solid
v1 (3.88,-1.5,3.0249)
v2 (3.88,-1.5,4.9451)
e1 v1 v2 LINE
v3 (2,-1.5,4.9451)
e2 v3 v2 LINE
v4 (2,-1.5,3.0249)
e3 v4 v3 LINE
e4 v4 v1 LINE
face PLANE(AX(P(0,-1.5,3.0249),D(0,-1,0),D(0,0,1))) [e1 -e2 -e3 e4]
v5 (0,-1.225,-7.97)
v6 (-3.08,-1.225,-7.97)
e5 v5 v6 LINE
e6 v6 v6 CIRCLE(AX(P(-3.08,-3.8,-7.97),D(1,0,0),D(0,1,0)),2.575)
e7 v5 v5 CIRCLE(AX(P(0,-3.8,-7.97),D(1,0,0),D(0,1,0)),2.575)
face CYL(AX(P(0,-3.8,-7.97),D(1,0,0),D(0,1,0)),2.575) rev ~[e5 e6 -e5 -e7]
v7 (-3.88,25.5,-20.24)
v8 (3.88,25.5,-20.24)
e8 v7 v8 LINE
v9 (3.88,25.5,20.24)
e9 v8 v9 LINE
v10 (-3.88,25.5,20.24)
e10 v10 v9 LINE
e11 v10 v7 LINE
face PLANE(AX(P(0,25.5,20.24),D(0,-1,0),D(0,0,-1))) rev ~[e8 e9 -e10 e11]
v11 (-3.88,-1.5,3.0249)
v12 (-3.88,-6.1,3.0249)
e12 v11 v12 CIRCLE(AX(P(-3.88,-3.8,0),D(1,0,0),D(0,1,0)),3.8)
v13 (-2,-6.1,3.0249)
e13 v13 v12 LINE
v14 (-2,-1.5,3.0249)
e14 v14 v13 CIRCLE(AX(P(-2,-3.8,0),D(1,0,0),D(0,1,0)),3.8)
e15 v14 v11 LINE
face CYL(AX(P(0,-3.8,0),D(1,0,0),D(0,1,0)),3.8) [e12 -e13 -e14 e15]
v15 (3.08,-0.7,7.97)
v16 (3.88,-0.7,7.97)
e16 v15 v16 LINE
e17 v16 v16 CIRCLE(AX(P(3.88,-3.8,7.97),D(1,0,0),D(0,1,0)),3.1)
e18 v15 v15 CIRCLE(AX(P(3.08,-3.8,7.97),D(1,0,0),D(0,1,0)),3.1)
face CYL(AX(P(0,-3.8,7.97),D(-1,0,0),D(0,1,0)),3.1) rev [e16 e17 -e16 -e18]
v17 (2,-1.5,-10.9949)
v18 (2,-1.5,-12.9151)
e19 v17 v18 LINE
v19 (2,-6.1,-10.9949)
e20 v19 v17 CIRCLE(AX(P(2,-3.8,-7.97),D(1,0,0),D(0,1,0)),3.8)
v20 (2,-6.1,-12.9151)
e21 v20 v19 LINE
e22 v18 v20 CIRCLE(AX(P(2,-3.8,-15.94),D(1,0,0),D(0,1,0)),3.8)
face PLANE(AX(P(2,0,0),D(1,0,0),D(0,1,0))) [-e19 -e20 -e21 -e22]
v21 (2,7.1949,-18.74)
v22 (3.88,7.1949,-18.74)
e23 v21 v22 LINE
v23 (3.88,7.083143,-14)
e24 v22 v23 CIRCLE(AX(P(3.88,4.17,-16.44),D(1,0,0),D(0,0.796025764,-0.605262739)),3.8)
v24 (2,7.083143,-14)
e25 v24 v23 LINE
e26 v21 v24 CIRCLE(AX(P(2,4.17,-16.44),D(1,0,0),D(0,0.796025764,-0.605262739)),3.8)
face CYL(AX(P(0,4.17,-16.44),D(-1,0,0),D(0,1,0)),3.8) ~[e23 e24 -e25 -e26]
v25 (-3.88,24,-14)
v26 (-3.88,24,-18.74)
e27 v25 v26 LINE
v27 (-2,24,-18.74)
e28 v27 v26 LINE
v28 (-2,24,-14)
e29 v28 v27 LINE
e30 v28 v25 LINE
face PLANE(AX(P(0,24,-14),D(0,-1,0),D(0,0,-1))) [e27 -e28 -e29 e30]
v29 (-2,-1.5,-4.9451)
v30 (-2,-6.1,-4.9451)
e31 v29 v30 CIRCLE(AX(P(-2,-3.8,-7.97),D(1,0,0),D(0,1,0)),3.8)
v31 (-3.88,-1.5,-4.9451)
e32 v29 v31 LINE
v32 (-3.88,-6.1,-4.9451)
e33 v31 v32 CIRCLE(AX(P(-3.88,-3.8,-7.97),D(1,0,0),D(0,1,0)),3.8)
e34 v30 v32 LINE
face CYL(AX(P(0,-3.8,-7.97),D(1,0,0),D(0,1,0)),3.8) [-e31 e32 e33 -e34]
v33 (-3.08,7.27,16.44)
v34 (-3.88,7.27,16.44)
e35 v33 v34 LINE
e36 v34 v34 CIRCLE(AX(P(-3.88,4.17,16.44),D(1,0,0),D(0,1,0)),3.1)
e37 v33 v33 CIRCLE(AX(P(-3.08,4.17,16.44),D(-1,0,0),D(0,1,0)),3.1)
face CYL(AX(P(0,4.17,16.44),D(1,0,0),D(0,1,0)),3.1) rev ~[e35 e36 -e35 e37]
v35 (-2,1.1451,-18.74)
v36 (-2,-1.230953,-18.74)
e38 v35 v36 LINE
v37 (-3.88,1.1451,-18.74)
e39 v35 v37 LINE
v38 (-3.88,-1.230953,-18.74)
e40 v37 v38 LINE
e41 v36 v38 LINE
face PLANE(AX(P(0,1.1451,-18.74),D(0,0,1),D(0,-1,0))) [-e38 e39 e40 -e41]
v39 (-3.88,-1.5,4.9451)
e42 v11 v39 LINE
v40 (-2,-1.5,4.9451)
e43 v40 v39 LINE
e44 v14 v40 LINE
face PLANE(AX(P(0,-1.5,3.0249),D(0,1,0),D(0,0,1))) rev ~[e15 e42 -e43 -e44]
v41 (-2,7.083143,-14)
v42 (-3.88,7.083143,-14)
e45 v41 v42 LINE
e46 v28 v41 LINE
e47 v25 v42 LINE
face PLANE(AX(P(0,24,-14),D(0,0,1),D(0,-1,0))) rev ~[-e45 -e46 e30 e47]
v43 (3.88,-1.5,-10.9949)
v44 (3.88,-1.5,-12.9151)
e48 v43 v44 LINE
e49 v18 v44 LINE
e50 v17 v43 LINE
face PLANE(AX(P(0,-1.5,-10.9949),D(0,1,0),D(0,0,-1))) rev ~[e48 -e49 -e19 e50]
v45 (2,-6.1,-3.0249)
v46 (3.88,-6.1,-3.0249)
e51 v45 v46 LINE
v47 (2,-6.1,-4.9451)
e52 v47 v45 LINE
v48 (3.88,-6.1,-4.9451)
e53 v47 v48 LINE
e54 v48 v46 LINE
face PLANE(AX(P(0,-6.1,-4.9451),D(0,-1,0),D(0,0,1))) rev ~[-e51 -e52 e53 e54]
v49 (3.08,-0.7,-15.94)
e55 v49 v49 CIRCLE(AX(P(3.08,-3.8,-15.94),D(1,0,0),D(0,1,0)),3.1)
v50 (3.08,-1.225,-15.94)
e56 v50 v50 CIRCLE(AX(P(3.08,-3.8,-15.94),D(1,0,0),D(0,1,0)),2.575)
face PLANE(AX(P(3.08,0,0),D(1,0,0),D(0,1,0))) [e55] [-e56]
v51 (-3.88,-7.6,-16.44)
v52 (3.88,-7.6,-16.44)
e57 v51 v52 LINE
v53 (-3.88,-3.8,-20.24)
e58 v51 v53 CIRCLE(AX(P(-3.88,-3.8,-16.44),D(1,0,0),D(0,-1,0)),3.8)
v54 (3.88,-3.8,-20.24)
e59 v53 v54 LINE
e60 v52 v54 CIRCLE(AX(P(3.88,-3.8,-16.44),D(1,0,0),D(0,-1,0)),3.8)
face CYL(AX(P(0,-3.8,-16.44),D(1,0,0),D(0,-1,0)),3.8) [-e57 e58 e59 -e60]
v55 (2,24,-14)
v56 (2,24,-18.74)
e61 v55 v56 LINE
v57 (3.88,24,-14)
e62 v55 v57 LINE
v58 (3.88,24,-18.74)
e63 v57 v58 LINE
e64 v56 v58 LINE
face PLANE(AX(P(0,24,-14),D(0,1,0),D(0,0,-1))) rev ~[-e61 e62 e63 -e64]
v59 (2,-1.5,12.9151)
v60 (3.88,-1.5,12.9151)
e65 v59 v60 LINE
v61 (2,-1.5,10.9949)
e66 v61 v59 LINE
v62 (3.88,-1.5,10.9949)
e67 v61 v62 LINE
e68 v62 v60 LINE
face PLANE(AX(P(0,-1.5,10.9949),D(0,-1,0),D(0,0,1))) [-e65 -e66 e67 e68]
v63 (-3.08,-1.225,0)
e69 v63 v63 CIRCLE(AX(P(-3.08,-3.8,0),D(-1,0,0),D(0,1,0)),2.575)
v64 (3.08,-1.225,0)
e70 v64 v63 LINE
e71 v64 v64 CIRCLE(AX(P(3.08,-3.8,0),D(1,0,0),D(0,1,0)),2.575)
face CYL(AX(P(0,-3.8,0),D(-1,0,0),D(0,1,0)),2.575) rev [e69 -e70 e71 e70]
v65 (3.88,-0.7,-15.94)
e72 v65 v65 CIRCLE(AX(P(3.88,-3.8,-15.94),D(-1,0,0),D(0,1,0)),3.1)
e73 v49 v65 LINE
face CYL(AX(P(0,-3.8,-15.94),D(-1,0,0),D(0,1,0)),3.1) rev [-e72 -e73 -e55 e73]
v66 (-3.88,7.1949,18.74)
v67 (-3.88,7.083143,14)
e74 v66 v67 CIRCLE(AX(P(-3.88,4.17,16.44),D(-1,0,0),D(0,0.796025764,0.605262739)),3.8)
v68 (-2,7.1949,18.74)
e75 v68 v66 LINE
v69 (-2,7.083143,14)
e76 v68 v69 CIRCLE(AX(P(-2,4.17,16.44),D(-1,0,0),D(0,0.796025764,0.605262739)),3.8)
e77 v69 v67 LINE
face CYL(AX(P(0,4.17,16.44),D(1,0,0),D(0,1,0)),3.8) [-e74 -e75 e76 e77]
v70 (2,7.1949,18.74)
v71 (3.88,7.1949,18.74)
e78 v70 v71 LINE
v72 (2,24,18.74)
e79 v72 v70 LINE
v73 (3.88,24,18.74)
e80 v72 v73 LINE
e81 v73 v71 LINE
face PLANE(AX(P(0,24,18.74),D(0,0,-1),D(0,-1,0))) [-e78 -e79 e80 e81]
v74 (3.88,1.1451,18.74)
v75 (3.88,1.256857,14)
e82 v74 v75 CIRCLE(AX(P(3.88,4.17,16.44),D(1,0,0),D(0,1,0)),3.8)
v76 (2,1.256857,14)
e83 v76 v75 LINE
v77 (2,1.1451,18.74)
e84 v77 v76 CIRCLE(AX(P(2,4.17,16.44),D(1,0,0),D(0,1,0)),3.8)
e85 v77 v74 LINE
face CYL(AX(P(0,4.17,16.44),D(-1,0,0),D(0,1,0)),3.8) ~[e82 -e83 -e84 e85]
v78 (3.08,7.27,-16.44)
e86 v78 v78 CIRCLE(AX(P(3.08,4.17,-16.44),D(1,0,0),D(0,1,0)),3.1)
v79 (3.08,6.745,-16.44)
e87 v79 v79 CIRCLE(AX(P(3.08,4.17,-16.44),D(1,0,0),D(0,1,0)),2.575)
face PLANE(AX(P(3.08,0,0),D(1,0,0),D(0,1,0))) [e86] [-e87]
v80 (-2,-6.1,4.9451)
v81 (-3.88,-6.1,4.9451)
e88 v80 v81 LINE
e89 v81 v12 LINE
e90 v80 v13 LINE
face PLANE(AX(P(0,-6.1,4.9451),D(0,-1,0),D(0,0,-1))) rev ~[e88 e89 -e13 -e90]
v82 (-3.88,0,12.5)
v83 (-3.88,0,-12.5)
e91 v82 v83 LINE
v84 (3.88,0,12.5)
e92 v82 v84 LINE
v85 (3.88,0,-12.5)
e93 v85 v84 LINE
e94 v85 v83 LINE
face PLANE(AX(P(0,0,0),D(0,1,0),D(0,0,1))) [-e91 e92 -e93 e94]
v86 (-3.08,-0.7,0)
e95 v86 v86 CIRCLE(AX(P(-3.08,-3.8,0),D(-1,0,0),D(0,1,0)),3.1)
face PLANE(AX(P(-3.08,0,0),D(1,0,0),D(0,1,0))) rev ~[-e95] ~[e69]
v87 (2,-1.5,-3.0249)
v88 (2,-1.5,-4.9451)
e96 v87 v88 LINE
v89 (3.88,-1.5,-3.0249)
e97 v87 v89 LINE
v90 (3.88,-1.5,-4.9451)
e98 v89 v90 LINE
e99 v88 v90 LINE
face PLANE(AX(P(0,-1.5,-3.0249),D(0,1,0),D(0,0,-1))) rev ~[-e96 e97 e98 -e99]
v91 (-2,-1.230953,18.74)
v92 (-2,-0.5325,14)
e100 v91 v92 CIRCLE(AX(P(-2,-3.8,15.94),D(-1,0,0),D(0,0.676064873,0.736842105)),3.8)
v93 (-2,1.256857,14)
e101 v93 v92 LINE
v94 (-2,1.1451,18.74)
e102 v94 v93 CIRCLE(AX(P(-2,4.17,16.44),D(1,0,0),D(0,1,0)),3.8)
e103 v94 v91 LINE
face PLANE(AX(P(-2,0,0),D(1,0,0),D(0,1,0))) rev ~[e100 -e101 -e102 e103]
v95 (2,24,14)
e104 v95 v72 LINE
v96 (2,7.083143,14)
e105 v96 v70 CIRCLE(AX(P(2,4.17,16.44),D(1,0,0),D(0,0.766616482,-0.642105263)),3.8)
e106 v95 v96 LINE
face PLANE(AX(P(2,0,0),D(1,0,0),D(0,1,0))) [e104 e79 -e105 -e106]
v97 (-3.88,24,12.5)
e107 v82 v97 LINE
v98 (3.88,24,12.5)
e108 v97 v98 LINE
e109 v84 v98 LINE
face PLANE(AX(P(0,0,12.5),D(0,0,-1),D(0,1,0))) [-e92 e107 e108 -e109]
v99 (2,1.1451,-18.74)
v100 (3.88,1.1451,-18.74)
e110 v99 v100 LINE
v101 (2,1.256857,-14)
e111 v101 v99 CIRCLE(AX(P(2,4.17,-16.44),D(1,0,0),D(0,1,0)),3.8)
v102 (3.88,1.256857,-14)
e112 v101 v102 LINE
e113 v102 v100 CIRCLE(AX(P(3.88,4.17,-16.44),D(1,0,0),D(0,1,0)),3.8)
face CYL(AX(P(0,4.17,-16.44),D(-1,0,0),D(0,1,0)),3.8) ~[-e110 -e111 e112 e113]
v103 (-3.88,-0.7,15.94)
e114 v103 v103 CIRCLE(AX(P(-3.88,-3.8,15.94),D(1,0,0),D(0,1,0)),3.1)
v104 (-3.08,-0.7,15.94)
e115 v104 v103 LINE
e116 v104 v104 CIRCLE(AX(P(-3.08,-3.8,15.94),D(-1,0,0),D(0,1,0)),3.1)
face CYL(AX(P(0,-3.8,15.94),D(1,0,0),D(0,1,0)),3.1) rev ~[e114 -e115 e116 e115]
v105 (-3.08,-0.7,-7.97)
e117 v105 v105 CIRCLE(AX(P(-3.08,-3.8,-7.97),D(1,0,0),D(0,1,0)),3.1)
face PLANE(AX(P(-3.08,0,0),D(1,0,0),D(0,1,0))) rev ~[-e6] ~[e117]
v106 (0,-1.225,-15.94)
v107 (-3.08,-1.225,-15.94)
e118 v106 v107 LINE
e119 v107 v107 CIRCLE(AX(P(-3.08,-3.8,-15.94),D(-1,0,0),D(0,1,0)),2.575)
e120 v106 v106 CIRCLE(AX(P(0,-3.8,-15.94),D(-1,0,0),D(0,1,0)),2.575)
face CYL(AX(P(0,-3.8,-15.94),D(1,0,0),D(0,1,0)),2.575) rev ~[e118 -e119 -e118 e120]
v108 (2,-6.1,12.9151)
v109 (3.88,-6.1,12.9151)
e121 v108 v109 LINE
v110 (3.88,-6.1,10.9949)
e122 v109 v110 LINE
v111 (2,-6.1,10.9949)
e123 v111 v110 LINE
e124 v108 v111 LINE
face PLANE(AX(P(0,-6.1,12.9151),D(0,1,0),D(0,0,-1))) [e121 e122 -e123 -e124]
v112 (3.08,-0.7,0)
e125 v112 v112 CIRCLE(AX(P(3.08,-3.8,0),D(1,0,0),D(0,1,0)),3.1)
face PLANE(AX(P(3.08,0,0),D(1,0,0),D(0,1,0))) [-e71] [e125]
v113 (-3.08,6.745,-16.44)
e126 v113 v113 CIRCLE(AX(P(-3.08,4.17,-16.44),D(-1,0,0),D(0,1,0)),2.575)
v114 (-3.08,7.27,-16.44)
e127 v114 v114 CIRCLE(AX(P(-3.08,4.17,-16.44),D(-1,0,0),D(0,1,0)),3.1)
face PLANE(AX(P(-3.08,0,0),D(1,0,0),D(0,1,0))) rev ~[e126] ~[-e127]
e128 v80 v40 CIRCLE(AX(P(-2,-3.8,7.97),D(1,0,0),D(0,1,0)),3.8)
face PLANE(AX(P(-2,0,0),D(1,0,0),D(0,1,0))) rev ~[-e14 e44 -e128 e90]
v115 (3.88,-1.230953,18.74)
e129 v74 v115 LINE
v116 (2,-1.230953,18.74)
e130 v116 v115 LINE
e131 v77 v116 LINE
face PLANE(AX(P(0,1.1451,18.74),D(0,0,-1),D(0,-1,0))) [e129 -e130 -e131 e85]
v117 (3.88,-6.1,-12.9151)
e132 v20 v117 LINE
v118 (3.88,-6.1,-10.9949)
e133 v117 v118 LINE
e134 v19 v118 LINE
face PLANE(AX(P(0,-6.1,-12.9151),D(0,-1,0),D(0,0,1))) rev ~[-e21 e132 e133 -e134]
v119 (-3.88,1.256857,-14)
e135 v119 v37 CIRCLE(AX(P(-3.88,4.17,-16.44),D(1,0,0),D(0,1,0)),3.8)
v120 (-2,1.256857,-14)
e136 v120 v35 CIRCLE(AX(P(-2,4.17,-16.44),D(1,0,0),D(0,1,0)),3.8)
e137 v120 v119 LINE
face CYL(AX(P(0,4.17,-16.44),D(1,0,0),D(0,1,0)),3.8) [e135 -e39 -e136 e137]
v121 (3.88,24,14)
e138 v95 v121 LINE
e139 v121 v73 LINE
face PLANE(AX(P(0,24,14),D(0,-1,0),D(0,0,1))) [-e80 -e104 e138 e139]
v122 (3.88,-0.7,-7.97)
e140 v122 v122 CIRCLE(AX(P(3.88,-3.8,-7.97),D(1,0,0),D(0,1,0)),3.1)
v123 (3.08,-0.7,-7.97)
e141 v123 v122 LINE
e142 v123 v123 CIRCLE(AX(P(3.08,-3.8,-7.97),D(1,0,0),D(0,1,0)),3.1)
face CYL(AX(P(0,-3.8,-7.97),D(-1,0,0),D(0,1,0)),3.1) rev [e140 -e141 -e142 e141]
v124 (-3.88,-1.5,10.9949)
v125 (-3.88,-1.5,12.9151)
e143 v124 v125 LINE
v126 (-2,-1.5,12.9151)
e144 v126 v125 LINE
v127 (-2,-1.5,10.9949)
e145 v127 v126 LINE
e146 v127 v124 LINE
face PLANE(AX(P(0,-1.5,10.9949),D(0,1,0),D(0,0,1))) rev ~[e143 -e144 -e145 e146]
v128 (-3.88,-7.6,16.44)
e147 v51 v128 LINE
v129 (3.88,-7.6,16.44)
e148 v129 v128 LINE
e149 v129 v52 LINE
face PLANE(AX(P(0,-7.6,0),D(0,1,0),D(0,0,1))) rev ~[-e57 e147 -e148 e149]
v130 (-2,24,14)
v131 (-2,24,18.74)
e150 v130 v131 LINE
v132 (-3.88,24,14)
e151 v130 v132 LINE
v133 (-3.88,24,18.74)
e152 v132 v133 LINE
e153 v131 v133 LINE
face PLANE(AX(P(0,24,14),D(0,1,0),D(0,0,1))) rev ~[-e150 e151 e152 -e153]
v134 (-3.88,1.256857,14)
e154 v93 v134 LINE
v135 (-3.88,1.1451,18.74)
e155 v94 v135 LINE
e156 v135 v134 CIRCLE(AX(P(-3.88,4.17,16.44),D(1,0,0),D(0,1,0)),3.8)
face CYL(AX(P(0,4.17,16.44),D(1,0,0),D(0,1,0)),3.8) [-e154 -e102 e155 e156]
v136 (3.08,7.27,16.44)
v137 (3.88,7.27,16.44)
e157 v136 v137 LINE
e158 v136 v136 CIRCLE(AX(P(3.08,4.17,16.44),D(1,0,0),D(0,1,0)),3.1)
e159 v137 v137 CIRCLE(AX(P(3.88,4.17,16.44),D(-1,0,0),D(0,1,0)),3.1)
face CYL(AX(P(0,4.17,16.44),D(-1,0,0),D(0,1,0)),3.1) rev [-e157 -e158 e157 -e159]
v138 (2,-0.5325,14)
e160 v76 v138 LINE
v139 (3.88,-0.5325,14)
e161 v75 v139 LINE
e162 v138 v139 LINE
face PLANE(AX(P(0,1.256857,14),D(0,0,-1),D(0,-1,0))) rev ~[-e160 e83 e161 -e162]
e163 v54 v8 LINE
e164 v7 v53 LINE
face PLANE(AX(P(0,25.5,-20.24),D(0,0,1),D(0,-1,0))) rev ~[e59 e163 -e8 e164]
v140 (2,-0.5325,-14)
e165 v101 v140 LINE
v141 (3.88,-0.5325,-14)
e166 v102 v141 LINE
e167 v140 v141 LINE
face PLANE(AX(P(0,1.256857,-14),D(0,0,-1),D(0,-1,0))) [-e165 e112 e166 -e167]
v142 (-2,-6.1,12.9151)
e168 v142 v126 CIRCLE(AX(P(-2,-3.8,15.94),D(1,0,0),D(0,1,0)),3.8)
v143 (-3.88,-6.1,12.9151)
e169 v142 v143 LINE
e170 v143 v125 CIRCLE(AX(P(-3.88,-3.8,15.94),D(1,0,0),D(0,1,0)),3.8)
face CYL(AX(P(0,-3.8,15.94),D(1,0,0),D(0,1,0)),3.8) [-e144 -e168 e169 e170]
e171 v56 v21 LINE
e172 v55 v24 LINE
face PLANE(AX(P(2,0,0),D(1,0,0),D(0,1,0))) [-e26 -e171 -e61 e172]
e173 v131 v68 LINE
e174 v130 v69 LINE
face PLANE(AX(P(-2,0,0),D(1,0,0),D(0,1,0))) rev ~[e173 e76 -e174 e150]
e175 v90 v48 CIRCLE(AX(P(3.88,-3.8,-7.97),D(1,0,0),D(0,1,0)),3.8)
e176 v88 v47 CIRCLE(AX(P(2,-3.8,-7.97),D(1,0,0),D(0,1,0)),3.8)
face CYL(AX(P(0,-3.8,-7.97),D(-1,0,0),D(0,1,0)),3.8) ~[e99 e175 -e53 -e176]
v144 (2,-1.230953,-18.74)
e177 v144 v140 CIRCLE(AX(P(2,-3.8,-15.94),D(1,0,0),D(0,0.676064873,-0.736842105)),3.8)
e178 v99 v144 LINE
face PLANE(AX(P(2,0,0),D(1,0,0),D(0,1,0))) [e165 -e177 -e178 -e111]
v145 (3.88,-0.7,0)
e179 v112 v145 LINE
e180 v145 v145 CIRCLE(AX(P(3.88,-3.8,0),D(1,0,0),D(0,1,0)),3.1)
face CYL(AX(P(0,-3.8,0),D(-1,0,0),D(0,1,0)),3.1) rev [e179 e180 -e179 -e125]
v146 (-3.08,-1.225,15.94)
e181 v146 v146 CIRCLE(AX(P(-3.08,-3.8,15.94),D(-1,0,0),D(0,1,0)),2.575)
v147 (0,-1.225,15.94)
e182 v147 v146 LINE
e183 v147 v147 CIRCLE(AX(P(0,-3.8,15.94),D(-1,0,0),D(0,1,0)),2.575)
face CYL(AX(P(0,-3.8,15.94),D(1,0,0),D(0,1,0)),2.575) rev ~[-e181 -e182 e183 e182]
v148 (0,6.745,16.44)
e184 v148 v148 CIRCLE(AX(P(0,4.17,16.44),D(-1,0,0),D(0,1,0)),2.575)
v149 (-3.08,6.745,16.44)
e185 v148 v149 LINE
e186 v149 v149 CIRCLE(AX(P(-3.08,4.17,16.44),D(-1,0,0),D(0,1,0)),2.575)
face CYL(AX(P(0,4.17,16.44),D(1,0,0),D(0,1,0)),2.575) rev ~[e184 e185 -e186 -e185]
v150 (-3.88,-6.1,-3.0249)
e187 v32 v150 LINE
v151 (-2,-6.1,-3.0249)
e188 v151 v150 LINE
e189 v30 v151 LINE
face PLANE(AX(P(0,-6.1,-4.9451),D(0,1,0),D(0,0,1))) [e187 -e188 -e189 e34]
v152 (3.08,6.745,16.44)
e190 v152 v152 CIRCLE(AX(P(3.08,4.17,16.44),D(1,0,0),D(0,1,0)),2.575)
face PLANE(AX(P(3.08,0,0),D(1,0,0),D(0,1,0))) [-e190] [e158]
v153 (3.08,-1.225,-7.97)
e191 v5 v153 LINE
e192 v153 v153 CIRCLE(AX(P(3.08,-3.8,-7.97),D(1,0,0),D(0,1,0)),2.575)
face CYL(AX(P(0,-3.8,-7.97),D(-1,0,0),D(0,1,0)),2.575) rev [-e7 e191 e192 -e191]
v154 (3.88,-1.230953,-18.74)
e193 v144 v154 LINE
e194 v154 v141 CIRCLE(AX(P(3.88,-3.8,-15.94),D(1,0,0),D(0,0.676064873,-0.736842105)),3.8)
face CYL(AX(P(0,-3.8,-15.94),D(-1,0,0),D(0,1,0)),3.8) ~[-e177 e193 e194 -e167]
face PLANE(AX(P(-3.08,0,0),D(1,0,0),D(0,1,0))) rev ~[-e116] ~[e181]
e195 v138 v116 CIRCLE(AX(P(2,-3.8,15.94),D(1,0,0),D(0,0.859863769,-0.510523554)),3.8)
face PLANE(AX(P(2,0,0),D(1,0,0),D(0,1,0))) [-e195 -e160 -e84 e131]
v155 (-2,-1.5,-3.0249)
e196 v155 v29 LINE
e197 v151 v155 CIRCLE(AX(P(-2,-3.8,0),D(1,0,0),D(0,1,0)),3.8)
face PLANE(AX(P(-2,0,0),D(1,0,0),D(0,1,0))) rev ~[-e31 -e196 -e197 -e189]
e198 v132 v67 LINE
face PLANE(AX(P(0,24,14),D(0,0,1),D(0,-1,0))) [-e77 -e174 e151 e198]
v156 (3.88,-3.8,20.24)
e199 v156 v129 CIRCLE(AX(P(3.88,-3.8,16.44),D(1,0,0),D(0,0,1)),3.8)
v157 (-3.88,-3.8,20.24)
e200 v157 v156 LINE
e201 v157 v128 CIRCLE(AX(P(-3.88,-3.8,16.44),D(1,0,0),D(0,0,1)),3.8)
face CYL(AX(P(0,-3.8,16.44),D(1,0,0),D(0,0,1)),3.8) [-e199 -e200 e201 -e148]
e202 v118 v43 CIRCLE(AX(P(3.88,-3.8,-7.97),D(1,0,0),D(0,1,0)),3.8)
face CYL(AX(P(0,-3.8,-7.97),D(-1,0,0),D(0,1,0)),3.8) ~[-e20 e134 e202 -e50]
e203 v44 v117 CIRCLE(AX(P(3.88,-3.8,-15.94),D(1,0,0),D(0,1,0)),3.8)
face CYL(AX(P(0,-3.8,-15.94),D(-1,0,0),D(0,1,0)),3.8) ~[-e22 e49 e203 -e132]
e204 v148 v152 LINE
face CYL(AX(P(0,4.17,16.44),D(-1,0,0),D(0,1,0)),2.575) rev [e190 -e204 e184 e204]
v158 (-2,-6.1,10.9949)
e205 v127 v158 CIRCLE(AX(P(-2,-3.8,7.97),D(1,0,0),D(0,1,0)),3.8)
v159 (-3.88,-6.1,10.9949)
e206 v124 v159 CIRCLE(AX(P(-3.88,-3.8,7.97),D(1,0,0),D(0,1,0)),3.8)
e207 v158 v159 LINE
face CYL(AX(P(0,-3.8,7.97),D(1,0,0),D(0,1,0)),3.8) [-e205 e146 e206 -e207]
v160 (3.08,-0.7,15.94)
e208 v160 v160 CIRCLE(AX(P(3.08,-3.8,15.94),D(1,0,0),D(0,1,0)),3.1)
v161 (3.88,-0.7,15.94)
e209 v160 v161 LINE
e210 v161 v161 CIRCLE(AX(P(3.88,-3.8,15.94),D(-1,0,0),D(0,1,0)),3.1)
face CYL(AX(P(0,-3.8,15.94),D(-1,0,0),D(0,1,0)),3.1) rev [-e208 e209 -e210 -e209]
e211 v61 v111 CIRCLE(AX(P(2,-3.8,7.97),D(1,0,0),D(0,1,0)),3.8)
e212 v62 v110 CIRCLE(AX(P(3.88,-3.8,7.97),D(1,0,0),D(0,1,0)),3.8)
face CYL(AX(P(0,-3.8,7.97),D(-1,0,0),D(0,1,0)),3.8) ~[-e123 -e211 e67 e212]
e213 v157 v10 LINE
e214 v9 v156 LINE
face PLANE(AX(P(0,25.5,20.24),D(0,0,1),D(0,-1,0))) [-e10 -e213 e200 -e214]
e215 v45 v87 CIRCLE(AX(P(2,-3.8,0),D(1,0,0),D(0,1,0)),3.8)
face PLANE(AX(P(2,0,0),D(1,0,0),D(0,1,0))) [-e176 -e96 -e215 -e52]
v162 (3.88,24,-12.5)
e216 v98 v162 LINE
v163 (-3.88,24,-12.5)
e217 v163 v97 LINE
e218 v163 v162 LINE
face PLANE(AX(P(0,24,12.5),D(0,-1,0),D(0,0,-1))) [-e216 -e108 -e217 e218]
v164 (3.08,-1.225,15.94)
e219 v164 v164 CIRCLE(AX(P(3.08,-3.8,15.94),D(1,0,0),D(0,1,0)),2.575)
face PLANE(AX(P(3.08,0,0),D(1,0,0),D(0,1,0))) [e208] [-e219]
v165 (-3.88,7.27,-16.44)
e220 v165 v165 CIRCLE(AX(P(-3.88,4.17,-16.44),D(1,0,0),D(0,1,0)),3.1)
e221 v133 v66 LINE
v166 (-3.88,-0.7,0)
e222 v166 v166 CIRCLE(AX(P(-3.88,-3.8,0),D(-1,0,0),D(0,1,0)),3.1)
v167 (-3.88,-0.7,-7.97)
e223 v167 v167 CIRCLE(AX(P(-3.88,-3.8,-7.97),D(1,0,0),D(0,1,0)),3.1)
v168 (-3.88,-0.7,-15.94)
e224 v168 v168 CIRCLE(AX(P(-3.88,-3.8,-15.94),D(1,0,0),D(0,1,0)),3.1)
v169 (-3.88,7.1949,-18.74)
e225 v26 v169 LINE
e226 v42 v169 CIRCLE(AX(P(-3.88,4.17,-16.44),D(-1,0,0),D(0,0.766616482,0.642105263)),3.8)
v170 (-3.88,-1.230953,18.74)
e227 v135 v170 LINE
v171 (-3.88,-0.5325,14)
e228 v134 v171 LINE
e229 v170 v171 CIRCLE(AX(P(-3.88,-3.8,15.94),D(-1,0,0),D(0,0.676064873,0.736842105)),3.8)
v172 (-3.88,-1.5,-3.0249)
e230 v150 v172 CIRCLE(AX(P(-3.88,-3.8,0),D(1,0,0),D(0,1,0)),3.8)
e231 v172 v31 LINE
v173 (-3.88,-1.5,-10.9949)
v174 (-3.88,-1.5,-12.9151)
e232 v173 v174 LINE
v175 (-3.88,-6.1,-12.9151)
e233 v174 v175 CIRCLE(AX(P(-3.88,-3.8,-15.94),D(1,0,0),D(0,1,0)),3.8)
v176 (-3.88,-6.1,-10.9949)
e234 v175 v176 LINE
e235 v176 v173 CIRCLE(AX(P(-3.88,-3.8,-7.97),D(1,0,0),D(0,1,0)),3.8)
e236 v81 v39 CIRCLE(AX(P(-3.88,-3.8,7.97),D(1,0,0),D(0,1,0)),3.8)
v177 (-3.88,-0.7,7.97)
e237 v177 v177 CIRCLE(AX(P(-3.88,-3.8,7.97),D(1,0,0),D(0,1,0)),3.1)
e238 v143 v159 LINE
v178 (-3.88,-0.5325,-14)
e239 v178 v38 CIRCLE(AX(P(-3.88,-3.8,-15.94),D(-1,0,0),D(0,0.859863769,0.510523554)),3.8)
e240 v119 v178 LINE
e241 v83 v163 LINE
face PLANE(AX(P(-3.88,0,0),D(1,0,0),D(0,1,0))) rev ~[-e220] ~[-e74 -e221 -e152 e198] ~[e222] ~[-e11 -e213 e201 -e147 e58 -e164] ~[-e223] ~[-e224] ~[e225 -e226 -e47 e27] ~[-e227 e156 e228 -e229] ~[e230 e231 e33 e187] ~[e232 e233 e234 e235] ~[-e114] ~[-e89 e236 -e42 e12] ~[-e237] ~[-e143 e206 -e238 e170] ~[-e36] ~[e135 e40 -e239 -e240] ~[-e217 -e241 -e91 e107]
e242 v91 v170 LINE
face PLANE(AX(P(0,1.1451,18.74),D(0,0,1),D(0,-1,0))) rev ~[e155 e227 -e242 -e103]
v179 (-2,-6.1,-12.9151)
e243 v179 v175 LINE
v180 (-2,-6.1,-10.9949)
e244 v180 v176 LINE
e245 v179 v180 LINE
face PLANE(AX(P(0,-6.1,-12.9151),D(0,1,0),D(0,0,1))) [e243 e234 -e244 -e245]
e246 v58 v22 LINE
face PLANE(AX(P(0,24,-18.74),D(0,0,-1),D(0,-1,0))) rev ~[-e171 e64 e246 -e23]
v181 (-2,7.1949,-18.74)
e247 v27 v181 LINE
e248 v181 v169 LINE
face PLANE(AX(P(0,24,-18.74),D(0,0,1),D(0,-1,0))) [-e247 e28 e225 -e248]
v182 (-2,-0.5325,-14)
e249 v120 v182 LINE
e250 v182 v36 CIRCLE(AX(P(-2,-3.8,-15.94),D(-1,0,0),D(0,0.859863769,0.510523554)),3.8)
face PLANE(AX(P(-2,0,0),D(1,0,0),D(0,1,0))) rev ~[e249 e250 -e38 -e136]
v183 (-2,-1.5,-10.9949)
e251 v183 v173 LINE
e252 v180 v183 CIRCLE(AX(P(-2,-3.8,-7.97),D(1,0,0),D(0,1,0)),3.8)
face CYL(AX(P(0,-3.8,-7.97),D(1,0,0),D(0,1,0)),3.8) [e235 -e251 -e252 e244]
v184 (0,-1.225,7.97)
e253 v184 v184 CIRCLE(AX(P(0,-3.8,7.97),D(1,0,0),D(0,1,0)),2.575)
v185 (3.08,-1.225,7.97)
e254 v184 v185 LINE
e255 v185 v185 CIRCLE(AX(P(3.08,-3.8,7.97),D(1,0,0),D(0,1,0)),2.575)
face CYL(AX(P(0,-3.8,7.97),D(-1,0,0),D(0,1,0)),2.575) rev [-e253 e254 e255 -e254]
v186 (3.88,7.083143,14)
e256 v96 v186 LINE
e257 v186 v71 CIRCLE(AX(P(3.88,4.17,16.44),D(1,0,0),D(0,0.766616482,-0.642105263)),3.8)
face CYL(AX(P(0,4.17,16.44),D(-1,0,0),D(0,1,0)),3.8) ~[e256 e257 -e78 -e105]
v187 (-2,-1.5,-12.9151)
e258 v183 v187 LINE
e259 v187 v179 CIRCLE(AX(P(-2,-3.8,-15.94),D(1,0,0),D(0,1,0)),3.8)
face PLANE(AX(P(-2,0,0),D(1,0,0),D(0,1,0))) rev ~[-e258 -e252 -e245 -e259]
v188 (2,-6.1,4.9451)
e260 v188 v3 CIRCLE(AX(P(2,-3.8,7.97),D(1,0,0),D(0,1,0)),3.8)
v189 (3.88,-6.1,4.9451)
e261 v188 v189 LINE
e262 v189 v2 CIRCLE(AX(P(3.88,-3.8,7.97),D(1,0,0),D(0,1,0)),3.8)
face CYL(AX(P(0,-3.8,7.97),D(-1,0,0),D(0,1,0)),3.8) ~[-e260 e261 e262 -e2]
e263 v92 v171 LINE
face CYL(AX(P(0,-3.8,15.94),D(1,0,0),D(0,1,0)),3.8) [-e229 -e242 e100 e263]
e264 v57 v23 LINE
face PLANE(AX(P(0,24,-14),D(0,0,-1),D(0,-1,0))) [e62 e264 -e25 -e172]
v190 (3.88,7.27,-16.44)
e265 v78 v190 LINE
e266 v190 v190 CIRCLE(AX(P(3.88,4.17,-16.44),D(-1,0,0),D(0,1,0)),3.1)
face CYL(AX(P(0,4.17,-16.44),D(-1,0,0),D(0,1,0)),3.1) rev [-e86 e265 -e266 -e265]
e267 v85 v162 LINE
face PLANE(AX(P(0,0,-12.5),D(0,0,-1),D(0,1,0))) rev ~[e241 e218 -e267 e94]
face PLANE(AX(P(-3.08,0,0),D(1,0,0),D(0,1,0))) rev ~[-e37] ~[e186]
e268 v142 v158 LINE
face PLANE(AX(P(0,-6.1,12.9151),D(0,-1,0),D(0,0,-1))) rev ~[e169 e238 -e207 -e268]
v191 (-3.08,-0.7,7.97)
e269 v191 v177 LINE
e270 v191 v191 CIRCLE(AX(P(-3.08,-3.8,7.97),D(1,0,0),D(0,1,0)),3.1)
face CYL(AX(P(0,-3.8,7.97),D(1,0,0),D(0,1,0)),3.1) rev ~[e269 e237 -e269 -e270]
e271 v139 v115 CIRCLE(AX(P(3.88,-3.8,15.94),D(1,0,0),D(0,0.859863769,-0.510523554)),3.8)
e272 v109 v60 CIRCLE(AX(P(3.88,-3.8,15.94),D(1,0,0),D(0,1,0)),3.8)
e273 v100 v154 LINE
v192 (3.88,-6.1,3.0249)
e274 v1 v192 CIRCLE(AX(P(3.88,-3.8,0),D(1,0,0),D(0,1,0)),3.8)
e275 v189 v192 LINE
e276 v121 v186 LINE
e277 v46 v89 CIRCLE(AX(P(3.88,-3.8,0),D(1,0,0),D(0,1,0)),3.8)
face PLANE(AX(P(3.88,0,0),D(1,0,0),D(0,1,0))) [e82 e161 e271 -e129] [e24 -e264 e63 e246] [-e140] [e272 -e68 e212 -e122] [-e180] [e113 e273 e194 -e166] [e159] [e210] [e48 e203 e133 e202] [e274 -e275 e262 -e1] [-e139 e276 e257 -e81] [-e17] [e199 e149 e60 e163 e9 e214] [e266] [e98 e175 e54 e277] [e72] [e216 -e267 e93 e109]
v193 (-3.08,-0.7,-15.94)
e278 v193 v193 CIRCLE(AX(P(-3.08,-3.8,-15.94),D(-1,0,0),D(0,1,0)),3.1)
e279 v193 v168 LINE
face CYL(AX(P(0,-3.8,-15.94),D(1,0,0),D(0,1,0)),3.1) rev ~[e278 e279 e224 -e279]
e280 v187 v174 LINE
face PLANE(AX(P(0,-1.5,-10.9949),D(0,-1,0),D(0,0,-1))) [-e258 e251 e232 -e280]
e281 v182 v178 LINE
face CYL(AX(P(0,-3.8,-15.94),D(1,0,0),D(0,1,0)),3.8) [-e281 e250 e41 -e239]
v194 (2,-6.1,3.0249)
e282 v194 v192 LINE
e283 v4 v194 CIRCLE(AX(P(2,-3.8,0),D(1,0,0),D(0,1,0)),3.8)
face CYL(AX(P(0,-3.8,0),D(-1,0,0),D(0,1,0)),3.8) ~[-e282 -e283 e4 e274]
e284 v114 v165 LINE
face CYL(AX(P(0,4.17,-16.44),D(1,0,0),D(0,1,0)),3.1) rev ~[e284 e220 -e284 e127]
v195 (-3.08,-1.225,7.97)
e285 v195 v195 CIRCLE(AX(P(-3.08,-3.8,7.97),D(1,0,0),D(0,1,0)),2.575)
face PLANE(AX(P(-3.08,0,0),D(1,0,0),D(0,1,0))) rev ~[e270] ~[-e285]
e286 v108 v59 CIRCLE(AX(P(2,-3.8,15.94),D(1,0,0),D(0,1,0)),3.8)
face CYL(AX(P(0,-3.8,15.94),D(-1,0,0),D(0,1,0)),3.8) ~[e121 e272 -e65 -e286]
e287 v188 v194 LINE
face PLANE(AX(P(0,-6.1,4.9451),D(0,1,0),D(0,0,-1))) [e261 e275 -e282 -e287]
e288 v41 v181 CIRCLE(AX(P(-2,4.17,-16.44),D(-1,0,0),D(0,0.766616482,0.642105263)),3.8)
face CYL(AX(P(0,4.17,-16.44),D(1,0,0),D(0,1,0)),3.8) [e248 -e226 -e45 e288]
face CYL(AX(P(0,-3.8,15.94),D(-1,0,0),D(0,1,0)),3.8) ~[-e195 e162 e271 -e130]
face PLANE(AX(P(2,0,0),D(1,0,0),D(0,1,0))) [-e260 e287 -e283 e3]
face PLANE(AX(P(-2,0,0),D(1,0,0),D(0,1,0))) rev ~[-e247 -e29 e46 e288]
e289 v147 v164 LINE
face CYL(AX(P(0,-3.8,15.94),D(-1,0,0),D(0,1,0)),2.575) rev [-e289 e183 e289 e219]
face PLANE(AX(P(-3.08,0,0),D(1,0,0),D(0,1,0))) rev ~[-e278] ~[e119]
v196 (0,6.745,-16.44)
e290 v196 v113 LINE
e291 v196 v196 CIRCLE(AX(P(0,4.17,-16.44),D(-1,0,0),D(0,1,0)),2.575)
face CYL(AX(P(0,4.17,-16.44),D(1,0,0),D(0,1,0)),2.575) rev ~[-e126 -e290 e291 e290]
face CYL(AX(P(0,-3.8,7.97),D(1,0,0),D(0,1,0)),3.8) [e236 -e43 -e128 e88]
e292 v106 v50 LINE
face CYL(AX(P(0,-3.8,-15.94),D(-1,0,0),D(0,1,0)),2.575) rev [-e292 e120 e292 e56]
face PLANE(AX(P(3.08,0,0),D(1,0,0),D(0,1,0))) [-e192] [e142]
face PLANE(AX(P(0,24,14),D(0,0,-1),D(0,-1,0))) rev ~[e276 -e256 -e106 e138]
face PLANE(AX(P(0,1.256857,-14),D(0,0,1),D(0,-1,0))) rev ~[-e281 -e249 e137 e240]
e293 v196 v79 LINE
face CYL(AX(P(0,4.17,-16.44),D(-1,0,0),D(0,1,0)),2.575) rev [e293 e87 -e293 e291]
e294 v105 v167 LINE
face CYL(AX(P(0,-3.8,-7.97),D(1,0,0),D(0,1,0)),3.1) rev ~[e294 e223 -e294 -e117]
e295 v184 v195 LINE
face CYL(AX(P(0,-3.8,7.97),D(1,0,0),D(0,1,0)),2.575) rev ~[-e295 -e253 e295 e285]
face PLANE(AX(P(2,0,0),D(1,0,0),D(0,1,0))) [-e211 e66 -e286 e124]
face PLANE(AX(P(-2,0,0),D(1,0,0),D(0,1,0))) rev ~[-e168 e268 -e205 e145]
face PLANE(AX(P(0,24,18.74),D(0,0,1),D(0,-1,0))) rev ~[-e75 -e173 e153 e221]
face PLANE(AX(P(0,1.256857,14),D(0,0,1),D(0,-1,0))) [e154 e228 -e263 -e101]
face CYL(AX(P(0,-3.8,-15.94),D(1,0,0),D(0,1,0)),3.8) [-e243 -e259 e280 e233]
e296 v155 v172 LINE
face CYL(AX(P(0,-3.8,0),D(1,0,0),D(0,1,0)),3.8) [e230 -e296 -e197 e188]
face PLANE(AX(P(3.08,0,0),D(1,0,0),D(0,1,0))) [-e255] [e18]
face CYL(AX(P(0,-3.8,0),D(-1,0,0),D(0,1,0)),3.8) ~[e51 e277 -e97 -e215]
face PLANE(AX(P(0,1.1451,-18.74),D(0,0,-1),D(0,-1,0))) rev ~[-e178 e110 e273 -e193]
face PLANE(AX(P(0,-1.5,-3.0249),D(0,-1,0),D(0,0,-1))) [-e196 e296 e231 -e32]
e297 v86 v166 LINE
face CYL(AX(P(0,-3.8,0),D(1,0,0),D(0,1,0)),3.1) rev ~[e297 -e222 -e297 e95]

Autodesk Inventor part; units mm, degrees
ref_plane "YZ Plane" through (0, 0, 0) normal (1, 0, 0) x (0, 1, 0)
ref_plane "XZ Plane" through (0, 0, 0) normal (0, 1, 0) x (-1, 0, 0)
ref_plane "XY Plane" through (0, 0, 0) normal (0, 0, 1) x (1, 0, 0)
sketch "Sketch1" plane through (0, 0, 0) normal (1, 0, 0) x (0, 1, 0)
  line L0 (0, 0) -> (0, -12.5)
  line L1 (0, -12.5) -> (25.5, -12.5)
  circle A0 centre (-3.8, 0) radius 3.8
  circle A1 centre (-3.8, 0) radius 3.1
  circle A2 centre (-3.8, 0) radius 2.575
  circle A3 centre (-3.8, -7.97) radius 3.1
  circle A4 centre (-3.8, -7.97) radius 2.575
  circle A5 centre (-3.8, -7.97) radius 3.8
  circle A6 centre (-3.8, -15.94) radius 3.1
  circle A7 centre (-3.8, -15.94) radius 2.575
  circle A8 centre (-3.8, -15.94) radius 3.8
  line L2 (25.5, -20.24) -> (25.5, -12.5)
  line L3 (-7.6, 0) -> (-7.6, -15.94)
  line L4 (-1.225, 0) -> (-6.375, 0)
  line L5 (-1.5, -3.0249) -> (-1.5, -4.9451)
  line L6 (-1.5, -10.9949) -> (-1.5, -12.9151)
  line L7 (-6.1, -4.9451) -> (-6.1, -3.0249)
  line L8 (-6.1, -12.9151) -> (-6.1, -10.9949)
  line L9 (0, 0) -> (0, 12.5)
  line L10 (0, 12.5) -> (25.5, 12.5)
  circle A9 centre (-3.8, 0) radius 3.8
  circle A10 centre (-3.8, 0) radius 3.1
  circle A11 centre (-3.8, 0) radius 2.575
  line L11 (25.5, 20.24) -> (25.5, 12.5)
  line L12 (-7.6, 0) -> (-7.6, 15.94)
  line L13 (25.5, 12.5) -> (25.5, -12.5)
  line L14 (24, 12.5) -> (24, -12.5)
  circle A12 centre (4.17, -16.44) radius 2.575
  circle A13 centre (4.17, -16.44) radius 3.1
  circle A14 centre (4.17, -16.44) radius 3.8
  line L15 (25.5, -20.24) -> (-3.8, -20.24)
  line L16 (-7.6, -16.44) -> (-7.6, -15.94)
  arc A15 (-7.6, -16.44) -> (-3.8, -20.24) centre (-3.8, -16.44) ccw
  line L17 (24, -14) -> (-0.5325, -14)
  line L18 (24, -14) -> (24, -18.74)
  line L19 (24, -18.74) -> (7.1949, -18.74)
  line L20 (1.1451, -18.74) -> (-3.8, -18.74)
  line L21 (-6.1, -16.44) -> (-6.1, -18.9649)
  arc A16 (-6.1, -16.44) -> (-3.8, -18.74) centre (-3.8, -16.44) ccw
  line L22 (4.17, -14) -> (4.17, -20.24)
  line L23 (4.92, -14) -> (4.92, -12.7147)
  line L24 (3.42, -14) -> (3.42, -12.7147)
  line L25 (25.5, 0) -> (-7.6, 0)
  line L26 (0, 0) -> (0, 12.5)
  line L27 (0, 12.5) -> (25.5, 12.5)
  circle A17 centre (-3.8, 0) radius 3.8
  circle A18 centre (-3.8, 0) radius 3.1
  circle A19 centre (-3.8, 0) radius 2.575
  circle A20 centre (-3.8, 7.97) radius 3.1
  circle A21 centre (-3.8, 7.97) radius 2.575
  circle A22 centre (-3.8, 7.97) radius 3.8
  circle A23 centre (-3.8, 15.94) radius 3.1
  circle A24 centre (-3.8, 15.94) radius 2.575
  circle A25 centre (-3.8, 15.94) radius 3.8
  line L28 (25.5, 20.24) -> (25.5, 12.5)
  line L29 (-7.6, 0) -> (-7.6, 15.94)
  line L30 (-1.5, 3.0249) -> (-1.5, 4.9451)
  line L31 (-1.5, 10.9949) -> (-1.5, 12.9151)
  line L32 (-6.1, 4.9451) -> (-6.1, 3.0249)
  line L33 (-6.1, 12.9151) -> (-6.1, 10.9949)
  circle A26 centre (-3.8, 0) radius 2.575
  circle A27 centre (-3.8, 0) radius 3.8
  circle A28 centre (-3.8, 0) radius 3.1
  line L34 (25.5, -12.5) -> (25.5, 12.5)
  line L35 (24, -12.5) -> (24, 12.5)
  circle A29 centre (4.17, 16.44) radius 2.575
  circle A30 centre (4.17, 16.44) radius 3.1
  circle A31 centre (4.17, 16.44) radius 3.8
  line L36 (25.5, 20.24) -> (-3.8, 20.24)
  line L37 (-7.6, 16.44) -> (-7.6, 15.94)
  arc A32 (-3.8, 20.24) -> (-7.6, 16.44) centre (-3.8, 16.44) ccw
  line L38 (24, 14) -> (-0.5325, 14)
  line L39 (24, 14) -> (24, 18.74)
  line L40 (24, 18.74) -> (7.1949, 18.74)
  line L41 (1.1451, 18.74) -> (-3.8, 18.74)
  line L42 (-6.1, 16.44) -> (-6.1, 18.9649)
  arc A33 (-3.8, 18.74) -> (-6.1, 16.44) centre (-3.8, 16.44) ccw
  line L43 (4.17, 14) -> (4.17, 20.24)
  line L44 (4.92, 14) -> (4.92, 12.7147)
  line L45 (3.42, 14) -> (3.42, 12.7147)
  point P0 (7.0831, 14)
  point P1 (1.2569, 14)
  point P2 (-1.231, 18.74)
  point P3 (7.0831, -14)
  point P4 (-1.231, -18.74)
  point P5 (1.2569, -14)
  dimension "d0" = 5.15
  dimension "d1" = 6.2
  dimension "d2" = 0.7
  dimension "d5" = 7.97
  dimension "d25" = 1.5
  dimension "d26" = 1.5
  dimension "d27" = 25
  dimension "d34" = 24
  dimension "d35" = 5.15
  dimension "d36" = 6.2
  dimension "d37" = 0.7
  dimension "d38" = 7.97
  dimension "d40" = 0.5
  dimension "d43" = 1.5
  dimension "d44" = 1.5
  dimension "d45" = 1.5
  dimension "d46" = 1.5
  dimension "d48" = 1.5
  dimension "d49" = 1.5
extrude "Extrusion4" add sketch "Sketch1" against normal mid plane 7.76 contours L25 A1 A0 | L0 A5 L5 A0 | A0 L30 A22 L9 | A0 L25 A1 | A5 | L0 L1 L2 L15 A14 L19 L18 L17 A8 L6 A5 | A22 L31 A25 L38 A31 L39 L40 L36 L11 L10 L9 | A22 | L25 L13 L1 L14 | L14 L10 L13 L25 | A0 L12 A22 L32 | L7 A5 L3 A0 | L8 A8 L3 A5 | A8 L20 A6 L21 | A22 L12 A25 L33 | A25 L42 A23 L41 | A8 L20 A14 L15 A15 L16 | L17 A13 L22 A14 | A14 L24 A13 L17 | L37 A32 L36 A31 L41 A25 | L38 A30 L45 A31 | A31 L43 A30 L38 | A31 L38 A30 L43 | L22 A13 L17 A14 | L21 A6 L20 A8 | A14 L23 A13 L24 | A25 L41 A23 L42 | L45 A30 L44 A31 | A14 L17 A13 L23 | L44 A30 L38 A31
extrude "Extrusion5" add sketch "Sketch1" along normal mid plane 4 contours A0 L32 A22 L30 | L5 A5 L7 A0 | L6 A8 L8 A5 | A22 L33 A25 L31 | L17 A14 L20 A8 | A25 L41 A31 L38 | L40 L39 L38 A31 | A14 L17 L18 L19
extrude "Extrusion6" add sketch "Sketch1" along normal mid plane 6.16 contours L25 A2 A1 | A1 L25 A2 | L17 A12 L22 A13 | A13 L24 A12 L17 | L38 A29 L45 A30 | A30 L43 A29 L38 | A30 L38 A29 L43 | L22 A12 L17 A13 | L21 A7 A16 L20 A6 | A6 L20 A16 A7 L21 | A13 L23 A12 L24 | L42 A24 A33 L41 A23 | A23 L41 A33 A24 L42 | L45 A29 L44 A30 | A13 L17 A12 L23 | L44 A29 L38 A30 | A3 | A20
equation "\"d25\" = d23"
equation "\"d26\" = d23"
equation "\"d20\" = d19"
equation "\"d21\" = d19"
equation "\"d22\" = d19"
equation "\"d23\" = 1.5"
equation "\"d19\" = 1.5"
properties part number "chaimber-adapter"
